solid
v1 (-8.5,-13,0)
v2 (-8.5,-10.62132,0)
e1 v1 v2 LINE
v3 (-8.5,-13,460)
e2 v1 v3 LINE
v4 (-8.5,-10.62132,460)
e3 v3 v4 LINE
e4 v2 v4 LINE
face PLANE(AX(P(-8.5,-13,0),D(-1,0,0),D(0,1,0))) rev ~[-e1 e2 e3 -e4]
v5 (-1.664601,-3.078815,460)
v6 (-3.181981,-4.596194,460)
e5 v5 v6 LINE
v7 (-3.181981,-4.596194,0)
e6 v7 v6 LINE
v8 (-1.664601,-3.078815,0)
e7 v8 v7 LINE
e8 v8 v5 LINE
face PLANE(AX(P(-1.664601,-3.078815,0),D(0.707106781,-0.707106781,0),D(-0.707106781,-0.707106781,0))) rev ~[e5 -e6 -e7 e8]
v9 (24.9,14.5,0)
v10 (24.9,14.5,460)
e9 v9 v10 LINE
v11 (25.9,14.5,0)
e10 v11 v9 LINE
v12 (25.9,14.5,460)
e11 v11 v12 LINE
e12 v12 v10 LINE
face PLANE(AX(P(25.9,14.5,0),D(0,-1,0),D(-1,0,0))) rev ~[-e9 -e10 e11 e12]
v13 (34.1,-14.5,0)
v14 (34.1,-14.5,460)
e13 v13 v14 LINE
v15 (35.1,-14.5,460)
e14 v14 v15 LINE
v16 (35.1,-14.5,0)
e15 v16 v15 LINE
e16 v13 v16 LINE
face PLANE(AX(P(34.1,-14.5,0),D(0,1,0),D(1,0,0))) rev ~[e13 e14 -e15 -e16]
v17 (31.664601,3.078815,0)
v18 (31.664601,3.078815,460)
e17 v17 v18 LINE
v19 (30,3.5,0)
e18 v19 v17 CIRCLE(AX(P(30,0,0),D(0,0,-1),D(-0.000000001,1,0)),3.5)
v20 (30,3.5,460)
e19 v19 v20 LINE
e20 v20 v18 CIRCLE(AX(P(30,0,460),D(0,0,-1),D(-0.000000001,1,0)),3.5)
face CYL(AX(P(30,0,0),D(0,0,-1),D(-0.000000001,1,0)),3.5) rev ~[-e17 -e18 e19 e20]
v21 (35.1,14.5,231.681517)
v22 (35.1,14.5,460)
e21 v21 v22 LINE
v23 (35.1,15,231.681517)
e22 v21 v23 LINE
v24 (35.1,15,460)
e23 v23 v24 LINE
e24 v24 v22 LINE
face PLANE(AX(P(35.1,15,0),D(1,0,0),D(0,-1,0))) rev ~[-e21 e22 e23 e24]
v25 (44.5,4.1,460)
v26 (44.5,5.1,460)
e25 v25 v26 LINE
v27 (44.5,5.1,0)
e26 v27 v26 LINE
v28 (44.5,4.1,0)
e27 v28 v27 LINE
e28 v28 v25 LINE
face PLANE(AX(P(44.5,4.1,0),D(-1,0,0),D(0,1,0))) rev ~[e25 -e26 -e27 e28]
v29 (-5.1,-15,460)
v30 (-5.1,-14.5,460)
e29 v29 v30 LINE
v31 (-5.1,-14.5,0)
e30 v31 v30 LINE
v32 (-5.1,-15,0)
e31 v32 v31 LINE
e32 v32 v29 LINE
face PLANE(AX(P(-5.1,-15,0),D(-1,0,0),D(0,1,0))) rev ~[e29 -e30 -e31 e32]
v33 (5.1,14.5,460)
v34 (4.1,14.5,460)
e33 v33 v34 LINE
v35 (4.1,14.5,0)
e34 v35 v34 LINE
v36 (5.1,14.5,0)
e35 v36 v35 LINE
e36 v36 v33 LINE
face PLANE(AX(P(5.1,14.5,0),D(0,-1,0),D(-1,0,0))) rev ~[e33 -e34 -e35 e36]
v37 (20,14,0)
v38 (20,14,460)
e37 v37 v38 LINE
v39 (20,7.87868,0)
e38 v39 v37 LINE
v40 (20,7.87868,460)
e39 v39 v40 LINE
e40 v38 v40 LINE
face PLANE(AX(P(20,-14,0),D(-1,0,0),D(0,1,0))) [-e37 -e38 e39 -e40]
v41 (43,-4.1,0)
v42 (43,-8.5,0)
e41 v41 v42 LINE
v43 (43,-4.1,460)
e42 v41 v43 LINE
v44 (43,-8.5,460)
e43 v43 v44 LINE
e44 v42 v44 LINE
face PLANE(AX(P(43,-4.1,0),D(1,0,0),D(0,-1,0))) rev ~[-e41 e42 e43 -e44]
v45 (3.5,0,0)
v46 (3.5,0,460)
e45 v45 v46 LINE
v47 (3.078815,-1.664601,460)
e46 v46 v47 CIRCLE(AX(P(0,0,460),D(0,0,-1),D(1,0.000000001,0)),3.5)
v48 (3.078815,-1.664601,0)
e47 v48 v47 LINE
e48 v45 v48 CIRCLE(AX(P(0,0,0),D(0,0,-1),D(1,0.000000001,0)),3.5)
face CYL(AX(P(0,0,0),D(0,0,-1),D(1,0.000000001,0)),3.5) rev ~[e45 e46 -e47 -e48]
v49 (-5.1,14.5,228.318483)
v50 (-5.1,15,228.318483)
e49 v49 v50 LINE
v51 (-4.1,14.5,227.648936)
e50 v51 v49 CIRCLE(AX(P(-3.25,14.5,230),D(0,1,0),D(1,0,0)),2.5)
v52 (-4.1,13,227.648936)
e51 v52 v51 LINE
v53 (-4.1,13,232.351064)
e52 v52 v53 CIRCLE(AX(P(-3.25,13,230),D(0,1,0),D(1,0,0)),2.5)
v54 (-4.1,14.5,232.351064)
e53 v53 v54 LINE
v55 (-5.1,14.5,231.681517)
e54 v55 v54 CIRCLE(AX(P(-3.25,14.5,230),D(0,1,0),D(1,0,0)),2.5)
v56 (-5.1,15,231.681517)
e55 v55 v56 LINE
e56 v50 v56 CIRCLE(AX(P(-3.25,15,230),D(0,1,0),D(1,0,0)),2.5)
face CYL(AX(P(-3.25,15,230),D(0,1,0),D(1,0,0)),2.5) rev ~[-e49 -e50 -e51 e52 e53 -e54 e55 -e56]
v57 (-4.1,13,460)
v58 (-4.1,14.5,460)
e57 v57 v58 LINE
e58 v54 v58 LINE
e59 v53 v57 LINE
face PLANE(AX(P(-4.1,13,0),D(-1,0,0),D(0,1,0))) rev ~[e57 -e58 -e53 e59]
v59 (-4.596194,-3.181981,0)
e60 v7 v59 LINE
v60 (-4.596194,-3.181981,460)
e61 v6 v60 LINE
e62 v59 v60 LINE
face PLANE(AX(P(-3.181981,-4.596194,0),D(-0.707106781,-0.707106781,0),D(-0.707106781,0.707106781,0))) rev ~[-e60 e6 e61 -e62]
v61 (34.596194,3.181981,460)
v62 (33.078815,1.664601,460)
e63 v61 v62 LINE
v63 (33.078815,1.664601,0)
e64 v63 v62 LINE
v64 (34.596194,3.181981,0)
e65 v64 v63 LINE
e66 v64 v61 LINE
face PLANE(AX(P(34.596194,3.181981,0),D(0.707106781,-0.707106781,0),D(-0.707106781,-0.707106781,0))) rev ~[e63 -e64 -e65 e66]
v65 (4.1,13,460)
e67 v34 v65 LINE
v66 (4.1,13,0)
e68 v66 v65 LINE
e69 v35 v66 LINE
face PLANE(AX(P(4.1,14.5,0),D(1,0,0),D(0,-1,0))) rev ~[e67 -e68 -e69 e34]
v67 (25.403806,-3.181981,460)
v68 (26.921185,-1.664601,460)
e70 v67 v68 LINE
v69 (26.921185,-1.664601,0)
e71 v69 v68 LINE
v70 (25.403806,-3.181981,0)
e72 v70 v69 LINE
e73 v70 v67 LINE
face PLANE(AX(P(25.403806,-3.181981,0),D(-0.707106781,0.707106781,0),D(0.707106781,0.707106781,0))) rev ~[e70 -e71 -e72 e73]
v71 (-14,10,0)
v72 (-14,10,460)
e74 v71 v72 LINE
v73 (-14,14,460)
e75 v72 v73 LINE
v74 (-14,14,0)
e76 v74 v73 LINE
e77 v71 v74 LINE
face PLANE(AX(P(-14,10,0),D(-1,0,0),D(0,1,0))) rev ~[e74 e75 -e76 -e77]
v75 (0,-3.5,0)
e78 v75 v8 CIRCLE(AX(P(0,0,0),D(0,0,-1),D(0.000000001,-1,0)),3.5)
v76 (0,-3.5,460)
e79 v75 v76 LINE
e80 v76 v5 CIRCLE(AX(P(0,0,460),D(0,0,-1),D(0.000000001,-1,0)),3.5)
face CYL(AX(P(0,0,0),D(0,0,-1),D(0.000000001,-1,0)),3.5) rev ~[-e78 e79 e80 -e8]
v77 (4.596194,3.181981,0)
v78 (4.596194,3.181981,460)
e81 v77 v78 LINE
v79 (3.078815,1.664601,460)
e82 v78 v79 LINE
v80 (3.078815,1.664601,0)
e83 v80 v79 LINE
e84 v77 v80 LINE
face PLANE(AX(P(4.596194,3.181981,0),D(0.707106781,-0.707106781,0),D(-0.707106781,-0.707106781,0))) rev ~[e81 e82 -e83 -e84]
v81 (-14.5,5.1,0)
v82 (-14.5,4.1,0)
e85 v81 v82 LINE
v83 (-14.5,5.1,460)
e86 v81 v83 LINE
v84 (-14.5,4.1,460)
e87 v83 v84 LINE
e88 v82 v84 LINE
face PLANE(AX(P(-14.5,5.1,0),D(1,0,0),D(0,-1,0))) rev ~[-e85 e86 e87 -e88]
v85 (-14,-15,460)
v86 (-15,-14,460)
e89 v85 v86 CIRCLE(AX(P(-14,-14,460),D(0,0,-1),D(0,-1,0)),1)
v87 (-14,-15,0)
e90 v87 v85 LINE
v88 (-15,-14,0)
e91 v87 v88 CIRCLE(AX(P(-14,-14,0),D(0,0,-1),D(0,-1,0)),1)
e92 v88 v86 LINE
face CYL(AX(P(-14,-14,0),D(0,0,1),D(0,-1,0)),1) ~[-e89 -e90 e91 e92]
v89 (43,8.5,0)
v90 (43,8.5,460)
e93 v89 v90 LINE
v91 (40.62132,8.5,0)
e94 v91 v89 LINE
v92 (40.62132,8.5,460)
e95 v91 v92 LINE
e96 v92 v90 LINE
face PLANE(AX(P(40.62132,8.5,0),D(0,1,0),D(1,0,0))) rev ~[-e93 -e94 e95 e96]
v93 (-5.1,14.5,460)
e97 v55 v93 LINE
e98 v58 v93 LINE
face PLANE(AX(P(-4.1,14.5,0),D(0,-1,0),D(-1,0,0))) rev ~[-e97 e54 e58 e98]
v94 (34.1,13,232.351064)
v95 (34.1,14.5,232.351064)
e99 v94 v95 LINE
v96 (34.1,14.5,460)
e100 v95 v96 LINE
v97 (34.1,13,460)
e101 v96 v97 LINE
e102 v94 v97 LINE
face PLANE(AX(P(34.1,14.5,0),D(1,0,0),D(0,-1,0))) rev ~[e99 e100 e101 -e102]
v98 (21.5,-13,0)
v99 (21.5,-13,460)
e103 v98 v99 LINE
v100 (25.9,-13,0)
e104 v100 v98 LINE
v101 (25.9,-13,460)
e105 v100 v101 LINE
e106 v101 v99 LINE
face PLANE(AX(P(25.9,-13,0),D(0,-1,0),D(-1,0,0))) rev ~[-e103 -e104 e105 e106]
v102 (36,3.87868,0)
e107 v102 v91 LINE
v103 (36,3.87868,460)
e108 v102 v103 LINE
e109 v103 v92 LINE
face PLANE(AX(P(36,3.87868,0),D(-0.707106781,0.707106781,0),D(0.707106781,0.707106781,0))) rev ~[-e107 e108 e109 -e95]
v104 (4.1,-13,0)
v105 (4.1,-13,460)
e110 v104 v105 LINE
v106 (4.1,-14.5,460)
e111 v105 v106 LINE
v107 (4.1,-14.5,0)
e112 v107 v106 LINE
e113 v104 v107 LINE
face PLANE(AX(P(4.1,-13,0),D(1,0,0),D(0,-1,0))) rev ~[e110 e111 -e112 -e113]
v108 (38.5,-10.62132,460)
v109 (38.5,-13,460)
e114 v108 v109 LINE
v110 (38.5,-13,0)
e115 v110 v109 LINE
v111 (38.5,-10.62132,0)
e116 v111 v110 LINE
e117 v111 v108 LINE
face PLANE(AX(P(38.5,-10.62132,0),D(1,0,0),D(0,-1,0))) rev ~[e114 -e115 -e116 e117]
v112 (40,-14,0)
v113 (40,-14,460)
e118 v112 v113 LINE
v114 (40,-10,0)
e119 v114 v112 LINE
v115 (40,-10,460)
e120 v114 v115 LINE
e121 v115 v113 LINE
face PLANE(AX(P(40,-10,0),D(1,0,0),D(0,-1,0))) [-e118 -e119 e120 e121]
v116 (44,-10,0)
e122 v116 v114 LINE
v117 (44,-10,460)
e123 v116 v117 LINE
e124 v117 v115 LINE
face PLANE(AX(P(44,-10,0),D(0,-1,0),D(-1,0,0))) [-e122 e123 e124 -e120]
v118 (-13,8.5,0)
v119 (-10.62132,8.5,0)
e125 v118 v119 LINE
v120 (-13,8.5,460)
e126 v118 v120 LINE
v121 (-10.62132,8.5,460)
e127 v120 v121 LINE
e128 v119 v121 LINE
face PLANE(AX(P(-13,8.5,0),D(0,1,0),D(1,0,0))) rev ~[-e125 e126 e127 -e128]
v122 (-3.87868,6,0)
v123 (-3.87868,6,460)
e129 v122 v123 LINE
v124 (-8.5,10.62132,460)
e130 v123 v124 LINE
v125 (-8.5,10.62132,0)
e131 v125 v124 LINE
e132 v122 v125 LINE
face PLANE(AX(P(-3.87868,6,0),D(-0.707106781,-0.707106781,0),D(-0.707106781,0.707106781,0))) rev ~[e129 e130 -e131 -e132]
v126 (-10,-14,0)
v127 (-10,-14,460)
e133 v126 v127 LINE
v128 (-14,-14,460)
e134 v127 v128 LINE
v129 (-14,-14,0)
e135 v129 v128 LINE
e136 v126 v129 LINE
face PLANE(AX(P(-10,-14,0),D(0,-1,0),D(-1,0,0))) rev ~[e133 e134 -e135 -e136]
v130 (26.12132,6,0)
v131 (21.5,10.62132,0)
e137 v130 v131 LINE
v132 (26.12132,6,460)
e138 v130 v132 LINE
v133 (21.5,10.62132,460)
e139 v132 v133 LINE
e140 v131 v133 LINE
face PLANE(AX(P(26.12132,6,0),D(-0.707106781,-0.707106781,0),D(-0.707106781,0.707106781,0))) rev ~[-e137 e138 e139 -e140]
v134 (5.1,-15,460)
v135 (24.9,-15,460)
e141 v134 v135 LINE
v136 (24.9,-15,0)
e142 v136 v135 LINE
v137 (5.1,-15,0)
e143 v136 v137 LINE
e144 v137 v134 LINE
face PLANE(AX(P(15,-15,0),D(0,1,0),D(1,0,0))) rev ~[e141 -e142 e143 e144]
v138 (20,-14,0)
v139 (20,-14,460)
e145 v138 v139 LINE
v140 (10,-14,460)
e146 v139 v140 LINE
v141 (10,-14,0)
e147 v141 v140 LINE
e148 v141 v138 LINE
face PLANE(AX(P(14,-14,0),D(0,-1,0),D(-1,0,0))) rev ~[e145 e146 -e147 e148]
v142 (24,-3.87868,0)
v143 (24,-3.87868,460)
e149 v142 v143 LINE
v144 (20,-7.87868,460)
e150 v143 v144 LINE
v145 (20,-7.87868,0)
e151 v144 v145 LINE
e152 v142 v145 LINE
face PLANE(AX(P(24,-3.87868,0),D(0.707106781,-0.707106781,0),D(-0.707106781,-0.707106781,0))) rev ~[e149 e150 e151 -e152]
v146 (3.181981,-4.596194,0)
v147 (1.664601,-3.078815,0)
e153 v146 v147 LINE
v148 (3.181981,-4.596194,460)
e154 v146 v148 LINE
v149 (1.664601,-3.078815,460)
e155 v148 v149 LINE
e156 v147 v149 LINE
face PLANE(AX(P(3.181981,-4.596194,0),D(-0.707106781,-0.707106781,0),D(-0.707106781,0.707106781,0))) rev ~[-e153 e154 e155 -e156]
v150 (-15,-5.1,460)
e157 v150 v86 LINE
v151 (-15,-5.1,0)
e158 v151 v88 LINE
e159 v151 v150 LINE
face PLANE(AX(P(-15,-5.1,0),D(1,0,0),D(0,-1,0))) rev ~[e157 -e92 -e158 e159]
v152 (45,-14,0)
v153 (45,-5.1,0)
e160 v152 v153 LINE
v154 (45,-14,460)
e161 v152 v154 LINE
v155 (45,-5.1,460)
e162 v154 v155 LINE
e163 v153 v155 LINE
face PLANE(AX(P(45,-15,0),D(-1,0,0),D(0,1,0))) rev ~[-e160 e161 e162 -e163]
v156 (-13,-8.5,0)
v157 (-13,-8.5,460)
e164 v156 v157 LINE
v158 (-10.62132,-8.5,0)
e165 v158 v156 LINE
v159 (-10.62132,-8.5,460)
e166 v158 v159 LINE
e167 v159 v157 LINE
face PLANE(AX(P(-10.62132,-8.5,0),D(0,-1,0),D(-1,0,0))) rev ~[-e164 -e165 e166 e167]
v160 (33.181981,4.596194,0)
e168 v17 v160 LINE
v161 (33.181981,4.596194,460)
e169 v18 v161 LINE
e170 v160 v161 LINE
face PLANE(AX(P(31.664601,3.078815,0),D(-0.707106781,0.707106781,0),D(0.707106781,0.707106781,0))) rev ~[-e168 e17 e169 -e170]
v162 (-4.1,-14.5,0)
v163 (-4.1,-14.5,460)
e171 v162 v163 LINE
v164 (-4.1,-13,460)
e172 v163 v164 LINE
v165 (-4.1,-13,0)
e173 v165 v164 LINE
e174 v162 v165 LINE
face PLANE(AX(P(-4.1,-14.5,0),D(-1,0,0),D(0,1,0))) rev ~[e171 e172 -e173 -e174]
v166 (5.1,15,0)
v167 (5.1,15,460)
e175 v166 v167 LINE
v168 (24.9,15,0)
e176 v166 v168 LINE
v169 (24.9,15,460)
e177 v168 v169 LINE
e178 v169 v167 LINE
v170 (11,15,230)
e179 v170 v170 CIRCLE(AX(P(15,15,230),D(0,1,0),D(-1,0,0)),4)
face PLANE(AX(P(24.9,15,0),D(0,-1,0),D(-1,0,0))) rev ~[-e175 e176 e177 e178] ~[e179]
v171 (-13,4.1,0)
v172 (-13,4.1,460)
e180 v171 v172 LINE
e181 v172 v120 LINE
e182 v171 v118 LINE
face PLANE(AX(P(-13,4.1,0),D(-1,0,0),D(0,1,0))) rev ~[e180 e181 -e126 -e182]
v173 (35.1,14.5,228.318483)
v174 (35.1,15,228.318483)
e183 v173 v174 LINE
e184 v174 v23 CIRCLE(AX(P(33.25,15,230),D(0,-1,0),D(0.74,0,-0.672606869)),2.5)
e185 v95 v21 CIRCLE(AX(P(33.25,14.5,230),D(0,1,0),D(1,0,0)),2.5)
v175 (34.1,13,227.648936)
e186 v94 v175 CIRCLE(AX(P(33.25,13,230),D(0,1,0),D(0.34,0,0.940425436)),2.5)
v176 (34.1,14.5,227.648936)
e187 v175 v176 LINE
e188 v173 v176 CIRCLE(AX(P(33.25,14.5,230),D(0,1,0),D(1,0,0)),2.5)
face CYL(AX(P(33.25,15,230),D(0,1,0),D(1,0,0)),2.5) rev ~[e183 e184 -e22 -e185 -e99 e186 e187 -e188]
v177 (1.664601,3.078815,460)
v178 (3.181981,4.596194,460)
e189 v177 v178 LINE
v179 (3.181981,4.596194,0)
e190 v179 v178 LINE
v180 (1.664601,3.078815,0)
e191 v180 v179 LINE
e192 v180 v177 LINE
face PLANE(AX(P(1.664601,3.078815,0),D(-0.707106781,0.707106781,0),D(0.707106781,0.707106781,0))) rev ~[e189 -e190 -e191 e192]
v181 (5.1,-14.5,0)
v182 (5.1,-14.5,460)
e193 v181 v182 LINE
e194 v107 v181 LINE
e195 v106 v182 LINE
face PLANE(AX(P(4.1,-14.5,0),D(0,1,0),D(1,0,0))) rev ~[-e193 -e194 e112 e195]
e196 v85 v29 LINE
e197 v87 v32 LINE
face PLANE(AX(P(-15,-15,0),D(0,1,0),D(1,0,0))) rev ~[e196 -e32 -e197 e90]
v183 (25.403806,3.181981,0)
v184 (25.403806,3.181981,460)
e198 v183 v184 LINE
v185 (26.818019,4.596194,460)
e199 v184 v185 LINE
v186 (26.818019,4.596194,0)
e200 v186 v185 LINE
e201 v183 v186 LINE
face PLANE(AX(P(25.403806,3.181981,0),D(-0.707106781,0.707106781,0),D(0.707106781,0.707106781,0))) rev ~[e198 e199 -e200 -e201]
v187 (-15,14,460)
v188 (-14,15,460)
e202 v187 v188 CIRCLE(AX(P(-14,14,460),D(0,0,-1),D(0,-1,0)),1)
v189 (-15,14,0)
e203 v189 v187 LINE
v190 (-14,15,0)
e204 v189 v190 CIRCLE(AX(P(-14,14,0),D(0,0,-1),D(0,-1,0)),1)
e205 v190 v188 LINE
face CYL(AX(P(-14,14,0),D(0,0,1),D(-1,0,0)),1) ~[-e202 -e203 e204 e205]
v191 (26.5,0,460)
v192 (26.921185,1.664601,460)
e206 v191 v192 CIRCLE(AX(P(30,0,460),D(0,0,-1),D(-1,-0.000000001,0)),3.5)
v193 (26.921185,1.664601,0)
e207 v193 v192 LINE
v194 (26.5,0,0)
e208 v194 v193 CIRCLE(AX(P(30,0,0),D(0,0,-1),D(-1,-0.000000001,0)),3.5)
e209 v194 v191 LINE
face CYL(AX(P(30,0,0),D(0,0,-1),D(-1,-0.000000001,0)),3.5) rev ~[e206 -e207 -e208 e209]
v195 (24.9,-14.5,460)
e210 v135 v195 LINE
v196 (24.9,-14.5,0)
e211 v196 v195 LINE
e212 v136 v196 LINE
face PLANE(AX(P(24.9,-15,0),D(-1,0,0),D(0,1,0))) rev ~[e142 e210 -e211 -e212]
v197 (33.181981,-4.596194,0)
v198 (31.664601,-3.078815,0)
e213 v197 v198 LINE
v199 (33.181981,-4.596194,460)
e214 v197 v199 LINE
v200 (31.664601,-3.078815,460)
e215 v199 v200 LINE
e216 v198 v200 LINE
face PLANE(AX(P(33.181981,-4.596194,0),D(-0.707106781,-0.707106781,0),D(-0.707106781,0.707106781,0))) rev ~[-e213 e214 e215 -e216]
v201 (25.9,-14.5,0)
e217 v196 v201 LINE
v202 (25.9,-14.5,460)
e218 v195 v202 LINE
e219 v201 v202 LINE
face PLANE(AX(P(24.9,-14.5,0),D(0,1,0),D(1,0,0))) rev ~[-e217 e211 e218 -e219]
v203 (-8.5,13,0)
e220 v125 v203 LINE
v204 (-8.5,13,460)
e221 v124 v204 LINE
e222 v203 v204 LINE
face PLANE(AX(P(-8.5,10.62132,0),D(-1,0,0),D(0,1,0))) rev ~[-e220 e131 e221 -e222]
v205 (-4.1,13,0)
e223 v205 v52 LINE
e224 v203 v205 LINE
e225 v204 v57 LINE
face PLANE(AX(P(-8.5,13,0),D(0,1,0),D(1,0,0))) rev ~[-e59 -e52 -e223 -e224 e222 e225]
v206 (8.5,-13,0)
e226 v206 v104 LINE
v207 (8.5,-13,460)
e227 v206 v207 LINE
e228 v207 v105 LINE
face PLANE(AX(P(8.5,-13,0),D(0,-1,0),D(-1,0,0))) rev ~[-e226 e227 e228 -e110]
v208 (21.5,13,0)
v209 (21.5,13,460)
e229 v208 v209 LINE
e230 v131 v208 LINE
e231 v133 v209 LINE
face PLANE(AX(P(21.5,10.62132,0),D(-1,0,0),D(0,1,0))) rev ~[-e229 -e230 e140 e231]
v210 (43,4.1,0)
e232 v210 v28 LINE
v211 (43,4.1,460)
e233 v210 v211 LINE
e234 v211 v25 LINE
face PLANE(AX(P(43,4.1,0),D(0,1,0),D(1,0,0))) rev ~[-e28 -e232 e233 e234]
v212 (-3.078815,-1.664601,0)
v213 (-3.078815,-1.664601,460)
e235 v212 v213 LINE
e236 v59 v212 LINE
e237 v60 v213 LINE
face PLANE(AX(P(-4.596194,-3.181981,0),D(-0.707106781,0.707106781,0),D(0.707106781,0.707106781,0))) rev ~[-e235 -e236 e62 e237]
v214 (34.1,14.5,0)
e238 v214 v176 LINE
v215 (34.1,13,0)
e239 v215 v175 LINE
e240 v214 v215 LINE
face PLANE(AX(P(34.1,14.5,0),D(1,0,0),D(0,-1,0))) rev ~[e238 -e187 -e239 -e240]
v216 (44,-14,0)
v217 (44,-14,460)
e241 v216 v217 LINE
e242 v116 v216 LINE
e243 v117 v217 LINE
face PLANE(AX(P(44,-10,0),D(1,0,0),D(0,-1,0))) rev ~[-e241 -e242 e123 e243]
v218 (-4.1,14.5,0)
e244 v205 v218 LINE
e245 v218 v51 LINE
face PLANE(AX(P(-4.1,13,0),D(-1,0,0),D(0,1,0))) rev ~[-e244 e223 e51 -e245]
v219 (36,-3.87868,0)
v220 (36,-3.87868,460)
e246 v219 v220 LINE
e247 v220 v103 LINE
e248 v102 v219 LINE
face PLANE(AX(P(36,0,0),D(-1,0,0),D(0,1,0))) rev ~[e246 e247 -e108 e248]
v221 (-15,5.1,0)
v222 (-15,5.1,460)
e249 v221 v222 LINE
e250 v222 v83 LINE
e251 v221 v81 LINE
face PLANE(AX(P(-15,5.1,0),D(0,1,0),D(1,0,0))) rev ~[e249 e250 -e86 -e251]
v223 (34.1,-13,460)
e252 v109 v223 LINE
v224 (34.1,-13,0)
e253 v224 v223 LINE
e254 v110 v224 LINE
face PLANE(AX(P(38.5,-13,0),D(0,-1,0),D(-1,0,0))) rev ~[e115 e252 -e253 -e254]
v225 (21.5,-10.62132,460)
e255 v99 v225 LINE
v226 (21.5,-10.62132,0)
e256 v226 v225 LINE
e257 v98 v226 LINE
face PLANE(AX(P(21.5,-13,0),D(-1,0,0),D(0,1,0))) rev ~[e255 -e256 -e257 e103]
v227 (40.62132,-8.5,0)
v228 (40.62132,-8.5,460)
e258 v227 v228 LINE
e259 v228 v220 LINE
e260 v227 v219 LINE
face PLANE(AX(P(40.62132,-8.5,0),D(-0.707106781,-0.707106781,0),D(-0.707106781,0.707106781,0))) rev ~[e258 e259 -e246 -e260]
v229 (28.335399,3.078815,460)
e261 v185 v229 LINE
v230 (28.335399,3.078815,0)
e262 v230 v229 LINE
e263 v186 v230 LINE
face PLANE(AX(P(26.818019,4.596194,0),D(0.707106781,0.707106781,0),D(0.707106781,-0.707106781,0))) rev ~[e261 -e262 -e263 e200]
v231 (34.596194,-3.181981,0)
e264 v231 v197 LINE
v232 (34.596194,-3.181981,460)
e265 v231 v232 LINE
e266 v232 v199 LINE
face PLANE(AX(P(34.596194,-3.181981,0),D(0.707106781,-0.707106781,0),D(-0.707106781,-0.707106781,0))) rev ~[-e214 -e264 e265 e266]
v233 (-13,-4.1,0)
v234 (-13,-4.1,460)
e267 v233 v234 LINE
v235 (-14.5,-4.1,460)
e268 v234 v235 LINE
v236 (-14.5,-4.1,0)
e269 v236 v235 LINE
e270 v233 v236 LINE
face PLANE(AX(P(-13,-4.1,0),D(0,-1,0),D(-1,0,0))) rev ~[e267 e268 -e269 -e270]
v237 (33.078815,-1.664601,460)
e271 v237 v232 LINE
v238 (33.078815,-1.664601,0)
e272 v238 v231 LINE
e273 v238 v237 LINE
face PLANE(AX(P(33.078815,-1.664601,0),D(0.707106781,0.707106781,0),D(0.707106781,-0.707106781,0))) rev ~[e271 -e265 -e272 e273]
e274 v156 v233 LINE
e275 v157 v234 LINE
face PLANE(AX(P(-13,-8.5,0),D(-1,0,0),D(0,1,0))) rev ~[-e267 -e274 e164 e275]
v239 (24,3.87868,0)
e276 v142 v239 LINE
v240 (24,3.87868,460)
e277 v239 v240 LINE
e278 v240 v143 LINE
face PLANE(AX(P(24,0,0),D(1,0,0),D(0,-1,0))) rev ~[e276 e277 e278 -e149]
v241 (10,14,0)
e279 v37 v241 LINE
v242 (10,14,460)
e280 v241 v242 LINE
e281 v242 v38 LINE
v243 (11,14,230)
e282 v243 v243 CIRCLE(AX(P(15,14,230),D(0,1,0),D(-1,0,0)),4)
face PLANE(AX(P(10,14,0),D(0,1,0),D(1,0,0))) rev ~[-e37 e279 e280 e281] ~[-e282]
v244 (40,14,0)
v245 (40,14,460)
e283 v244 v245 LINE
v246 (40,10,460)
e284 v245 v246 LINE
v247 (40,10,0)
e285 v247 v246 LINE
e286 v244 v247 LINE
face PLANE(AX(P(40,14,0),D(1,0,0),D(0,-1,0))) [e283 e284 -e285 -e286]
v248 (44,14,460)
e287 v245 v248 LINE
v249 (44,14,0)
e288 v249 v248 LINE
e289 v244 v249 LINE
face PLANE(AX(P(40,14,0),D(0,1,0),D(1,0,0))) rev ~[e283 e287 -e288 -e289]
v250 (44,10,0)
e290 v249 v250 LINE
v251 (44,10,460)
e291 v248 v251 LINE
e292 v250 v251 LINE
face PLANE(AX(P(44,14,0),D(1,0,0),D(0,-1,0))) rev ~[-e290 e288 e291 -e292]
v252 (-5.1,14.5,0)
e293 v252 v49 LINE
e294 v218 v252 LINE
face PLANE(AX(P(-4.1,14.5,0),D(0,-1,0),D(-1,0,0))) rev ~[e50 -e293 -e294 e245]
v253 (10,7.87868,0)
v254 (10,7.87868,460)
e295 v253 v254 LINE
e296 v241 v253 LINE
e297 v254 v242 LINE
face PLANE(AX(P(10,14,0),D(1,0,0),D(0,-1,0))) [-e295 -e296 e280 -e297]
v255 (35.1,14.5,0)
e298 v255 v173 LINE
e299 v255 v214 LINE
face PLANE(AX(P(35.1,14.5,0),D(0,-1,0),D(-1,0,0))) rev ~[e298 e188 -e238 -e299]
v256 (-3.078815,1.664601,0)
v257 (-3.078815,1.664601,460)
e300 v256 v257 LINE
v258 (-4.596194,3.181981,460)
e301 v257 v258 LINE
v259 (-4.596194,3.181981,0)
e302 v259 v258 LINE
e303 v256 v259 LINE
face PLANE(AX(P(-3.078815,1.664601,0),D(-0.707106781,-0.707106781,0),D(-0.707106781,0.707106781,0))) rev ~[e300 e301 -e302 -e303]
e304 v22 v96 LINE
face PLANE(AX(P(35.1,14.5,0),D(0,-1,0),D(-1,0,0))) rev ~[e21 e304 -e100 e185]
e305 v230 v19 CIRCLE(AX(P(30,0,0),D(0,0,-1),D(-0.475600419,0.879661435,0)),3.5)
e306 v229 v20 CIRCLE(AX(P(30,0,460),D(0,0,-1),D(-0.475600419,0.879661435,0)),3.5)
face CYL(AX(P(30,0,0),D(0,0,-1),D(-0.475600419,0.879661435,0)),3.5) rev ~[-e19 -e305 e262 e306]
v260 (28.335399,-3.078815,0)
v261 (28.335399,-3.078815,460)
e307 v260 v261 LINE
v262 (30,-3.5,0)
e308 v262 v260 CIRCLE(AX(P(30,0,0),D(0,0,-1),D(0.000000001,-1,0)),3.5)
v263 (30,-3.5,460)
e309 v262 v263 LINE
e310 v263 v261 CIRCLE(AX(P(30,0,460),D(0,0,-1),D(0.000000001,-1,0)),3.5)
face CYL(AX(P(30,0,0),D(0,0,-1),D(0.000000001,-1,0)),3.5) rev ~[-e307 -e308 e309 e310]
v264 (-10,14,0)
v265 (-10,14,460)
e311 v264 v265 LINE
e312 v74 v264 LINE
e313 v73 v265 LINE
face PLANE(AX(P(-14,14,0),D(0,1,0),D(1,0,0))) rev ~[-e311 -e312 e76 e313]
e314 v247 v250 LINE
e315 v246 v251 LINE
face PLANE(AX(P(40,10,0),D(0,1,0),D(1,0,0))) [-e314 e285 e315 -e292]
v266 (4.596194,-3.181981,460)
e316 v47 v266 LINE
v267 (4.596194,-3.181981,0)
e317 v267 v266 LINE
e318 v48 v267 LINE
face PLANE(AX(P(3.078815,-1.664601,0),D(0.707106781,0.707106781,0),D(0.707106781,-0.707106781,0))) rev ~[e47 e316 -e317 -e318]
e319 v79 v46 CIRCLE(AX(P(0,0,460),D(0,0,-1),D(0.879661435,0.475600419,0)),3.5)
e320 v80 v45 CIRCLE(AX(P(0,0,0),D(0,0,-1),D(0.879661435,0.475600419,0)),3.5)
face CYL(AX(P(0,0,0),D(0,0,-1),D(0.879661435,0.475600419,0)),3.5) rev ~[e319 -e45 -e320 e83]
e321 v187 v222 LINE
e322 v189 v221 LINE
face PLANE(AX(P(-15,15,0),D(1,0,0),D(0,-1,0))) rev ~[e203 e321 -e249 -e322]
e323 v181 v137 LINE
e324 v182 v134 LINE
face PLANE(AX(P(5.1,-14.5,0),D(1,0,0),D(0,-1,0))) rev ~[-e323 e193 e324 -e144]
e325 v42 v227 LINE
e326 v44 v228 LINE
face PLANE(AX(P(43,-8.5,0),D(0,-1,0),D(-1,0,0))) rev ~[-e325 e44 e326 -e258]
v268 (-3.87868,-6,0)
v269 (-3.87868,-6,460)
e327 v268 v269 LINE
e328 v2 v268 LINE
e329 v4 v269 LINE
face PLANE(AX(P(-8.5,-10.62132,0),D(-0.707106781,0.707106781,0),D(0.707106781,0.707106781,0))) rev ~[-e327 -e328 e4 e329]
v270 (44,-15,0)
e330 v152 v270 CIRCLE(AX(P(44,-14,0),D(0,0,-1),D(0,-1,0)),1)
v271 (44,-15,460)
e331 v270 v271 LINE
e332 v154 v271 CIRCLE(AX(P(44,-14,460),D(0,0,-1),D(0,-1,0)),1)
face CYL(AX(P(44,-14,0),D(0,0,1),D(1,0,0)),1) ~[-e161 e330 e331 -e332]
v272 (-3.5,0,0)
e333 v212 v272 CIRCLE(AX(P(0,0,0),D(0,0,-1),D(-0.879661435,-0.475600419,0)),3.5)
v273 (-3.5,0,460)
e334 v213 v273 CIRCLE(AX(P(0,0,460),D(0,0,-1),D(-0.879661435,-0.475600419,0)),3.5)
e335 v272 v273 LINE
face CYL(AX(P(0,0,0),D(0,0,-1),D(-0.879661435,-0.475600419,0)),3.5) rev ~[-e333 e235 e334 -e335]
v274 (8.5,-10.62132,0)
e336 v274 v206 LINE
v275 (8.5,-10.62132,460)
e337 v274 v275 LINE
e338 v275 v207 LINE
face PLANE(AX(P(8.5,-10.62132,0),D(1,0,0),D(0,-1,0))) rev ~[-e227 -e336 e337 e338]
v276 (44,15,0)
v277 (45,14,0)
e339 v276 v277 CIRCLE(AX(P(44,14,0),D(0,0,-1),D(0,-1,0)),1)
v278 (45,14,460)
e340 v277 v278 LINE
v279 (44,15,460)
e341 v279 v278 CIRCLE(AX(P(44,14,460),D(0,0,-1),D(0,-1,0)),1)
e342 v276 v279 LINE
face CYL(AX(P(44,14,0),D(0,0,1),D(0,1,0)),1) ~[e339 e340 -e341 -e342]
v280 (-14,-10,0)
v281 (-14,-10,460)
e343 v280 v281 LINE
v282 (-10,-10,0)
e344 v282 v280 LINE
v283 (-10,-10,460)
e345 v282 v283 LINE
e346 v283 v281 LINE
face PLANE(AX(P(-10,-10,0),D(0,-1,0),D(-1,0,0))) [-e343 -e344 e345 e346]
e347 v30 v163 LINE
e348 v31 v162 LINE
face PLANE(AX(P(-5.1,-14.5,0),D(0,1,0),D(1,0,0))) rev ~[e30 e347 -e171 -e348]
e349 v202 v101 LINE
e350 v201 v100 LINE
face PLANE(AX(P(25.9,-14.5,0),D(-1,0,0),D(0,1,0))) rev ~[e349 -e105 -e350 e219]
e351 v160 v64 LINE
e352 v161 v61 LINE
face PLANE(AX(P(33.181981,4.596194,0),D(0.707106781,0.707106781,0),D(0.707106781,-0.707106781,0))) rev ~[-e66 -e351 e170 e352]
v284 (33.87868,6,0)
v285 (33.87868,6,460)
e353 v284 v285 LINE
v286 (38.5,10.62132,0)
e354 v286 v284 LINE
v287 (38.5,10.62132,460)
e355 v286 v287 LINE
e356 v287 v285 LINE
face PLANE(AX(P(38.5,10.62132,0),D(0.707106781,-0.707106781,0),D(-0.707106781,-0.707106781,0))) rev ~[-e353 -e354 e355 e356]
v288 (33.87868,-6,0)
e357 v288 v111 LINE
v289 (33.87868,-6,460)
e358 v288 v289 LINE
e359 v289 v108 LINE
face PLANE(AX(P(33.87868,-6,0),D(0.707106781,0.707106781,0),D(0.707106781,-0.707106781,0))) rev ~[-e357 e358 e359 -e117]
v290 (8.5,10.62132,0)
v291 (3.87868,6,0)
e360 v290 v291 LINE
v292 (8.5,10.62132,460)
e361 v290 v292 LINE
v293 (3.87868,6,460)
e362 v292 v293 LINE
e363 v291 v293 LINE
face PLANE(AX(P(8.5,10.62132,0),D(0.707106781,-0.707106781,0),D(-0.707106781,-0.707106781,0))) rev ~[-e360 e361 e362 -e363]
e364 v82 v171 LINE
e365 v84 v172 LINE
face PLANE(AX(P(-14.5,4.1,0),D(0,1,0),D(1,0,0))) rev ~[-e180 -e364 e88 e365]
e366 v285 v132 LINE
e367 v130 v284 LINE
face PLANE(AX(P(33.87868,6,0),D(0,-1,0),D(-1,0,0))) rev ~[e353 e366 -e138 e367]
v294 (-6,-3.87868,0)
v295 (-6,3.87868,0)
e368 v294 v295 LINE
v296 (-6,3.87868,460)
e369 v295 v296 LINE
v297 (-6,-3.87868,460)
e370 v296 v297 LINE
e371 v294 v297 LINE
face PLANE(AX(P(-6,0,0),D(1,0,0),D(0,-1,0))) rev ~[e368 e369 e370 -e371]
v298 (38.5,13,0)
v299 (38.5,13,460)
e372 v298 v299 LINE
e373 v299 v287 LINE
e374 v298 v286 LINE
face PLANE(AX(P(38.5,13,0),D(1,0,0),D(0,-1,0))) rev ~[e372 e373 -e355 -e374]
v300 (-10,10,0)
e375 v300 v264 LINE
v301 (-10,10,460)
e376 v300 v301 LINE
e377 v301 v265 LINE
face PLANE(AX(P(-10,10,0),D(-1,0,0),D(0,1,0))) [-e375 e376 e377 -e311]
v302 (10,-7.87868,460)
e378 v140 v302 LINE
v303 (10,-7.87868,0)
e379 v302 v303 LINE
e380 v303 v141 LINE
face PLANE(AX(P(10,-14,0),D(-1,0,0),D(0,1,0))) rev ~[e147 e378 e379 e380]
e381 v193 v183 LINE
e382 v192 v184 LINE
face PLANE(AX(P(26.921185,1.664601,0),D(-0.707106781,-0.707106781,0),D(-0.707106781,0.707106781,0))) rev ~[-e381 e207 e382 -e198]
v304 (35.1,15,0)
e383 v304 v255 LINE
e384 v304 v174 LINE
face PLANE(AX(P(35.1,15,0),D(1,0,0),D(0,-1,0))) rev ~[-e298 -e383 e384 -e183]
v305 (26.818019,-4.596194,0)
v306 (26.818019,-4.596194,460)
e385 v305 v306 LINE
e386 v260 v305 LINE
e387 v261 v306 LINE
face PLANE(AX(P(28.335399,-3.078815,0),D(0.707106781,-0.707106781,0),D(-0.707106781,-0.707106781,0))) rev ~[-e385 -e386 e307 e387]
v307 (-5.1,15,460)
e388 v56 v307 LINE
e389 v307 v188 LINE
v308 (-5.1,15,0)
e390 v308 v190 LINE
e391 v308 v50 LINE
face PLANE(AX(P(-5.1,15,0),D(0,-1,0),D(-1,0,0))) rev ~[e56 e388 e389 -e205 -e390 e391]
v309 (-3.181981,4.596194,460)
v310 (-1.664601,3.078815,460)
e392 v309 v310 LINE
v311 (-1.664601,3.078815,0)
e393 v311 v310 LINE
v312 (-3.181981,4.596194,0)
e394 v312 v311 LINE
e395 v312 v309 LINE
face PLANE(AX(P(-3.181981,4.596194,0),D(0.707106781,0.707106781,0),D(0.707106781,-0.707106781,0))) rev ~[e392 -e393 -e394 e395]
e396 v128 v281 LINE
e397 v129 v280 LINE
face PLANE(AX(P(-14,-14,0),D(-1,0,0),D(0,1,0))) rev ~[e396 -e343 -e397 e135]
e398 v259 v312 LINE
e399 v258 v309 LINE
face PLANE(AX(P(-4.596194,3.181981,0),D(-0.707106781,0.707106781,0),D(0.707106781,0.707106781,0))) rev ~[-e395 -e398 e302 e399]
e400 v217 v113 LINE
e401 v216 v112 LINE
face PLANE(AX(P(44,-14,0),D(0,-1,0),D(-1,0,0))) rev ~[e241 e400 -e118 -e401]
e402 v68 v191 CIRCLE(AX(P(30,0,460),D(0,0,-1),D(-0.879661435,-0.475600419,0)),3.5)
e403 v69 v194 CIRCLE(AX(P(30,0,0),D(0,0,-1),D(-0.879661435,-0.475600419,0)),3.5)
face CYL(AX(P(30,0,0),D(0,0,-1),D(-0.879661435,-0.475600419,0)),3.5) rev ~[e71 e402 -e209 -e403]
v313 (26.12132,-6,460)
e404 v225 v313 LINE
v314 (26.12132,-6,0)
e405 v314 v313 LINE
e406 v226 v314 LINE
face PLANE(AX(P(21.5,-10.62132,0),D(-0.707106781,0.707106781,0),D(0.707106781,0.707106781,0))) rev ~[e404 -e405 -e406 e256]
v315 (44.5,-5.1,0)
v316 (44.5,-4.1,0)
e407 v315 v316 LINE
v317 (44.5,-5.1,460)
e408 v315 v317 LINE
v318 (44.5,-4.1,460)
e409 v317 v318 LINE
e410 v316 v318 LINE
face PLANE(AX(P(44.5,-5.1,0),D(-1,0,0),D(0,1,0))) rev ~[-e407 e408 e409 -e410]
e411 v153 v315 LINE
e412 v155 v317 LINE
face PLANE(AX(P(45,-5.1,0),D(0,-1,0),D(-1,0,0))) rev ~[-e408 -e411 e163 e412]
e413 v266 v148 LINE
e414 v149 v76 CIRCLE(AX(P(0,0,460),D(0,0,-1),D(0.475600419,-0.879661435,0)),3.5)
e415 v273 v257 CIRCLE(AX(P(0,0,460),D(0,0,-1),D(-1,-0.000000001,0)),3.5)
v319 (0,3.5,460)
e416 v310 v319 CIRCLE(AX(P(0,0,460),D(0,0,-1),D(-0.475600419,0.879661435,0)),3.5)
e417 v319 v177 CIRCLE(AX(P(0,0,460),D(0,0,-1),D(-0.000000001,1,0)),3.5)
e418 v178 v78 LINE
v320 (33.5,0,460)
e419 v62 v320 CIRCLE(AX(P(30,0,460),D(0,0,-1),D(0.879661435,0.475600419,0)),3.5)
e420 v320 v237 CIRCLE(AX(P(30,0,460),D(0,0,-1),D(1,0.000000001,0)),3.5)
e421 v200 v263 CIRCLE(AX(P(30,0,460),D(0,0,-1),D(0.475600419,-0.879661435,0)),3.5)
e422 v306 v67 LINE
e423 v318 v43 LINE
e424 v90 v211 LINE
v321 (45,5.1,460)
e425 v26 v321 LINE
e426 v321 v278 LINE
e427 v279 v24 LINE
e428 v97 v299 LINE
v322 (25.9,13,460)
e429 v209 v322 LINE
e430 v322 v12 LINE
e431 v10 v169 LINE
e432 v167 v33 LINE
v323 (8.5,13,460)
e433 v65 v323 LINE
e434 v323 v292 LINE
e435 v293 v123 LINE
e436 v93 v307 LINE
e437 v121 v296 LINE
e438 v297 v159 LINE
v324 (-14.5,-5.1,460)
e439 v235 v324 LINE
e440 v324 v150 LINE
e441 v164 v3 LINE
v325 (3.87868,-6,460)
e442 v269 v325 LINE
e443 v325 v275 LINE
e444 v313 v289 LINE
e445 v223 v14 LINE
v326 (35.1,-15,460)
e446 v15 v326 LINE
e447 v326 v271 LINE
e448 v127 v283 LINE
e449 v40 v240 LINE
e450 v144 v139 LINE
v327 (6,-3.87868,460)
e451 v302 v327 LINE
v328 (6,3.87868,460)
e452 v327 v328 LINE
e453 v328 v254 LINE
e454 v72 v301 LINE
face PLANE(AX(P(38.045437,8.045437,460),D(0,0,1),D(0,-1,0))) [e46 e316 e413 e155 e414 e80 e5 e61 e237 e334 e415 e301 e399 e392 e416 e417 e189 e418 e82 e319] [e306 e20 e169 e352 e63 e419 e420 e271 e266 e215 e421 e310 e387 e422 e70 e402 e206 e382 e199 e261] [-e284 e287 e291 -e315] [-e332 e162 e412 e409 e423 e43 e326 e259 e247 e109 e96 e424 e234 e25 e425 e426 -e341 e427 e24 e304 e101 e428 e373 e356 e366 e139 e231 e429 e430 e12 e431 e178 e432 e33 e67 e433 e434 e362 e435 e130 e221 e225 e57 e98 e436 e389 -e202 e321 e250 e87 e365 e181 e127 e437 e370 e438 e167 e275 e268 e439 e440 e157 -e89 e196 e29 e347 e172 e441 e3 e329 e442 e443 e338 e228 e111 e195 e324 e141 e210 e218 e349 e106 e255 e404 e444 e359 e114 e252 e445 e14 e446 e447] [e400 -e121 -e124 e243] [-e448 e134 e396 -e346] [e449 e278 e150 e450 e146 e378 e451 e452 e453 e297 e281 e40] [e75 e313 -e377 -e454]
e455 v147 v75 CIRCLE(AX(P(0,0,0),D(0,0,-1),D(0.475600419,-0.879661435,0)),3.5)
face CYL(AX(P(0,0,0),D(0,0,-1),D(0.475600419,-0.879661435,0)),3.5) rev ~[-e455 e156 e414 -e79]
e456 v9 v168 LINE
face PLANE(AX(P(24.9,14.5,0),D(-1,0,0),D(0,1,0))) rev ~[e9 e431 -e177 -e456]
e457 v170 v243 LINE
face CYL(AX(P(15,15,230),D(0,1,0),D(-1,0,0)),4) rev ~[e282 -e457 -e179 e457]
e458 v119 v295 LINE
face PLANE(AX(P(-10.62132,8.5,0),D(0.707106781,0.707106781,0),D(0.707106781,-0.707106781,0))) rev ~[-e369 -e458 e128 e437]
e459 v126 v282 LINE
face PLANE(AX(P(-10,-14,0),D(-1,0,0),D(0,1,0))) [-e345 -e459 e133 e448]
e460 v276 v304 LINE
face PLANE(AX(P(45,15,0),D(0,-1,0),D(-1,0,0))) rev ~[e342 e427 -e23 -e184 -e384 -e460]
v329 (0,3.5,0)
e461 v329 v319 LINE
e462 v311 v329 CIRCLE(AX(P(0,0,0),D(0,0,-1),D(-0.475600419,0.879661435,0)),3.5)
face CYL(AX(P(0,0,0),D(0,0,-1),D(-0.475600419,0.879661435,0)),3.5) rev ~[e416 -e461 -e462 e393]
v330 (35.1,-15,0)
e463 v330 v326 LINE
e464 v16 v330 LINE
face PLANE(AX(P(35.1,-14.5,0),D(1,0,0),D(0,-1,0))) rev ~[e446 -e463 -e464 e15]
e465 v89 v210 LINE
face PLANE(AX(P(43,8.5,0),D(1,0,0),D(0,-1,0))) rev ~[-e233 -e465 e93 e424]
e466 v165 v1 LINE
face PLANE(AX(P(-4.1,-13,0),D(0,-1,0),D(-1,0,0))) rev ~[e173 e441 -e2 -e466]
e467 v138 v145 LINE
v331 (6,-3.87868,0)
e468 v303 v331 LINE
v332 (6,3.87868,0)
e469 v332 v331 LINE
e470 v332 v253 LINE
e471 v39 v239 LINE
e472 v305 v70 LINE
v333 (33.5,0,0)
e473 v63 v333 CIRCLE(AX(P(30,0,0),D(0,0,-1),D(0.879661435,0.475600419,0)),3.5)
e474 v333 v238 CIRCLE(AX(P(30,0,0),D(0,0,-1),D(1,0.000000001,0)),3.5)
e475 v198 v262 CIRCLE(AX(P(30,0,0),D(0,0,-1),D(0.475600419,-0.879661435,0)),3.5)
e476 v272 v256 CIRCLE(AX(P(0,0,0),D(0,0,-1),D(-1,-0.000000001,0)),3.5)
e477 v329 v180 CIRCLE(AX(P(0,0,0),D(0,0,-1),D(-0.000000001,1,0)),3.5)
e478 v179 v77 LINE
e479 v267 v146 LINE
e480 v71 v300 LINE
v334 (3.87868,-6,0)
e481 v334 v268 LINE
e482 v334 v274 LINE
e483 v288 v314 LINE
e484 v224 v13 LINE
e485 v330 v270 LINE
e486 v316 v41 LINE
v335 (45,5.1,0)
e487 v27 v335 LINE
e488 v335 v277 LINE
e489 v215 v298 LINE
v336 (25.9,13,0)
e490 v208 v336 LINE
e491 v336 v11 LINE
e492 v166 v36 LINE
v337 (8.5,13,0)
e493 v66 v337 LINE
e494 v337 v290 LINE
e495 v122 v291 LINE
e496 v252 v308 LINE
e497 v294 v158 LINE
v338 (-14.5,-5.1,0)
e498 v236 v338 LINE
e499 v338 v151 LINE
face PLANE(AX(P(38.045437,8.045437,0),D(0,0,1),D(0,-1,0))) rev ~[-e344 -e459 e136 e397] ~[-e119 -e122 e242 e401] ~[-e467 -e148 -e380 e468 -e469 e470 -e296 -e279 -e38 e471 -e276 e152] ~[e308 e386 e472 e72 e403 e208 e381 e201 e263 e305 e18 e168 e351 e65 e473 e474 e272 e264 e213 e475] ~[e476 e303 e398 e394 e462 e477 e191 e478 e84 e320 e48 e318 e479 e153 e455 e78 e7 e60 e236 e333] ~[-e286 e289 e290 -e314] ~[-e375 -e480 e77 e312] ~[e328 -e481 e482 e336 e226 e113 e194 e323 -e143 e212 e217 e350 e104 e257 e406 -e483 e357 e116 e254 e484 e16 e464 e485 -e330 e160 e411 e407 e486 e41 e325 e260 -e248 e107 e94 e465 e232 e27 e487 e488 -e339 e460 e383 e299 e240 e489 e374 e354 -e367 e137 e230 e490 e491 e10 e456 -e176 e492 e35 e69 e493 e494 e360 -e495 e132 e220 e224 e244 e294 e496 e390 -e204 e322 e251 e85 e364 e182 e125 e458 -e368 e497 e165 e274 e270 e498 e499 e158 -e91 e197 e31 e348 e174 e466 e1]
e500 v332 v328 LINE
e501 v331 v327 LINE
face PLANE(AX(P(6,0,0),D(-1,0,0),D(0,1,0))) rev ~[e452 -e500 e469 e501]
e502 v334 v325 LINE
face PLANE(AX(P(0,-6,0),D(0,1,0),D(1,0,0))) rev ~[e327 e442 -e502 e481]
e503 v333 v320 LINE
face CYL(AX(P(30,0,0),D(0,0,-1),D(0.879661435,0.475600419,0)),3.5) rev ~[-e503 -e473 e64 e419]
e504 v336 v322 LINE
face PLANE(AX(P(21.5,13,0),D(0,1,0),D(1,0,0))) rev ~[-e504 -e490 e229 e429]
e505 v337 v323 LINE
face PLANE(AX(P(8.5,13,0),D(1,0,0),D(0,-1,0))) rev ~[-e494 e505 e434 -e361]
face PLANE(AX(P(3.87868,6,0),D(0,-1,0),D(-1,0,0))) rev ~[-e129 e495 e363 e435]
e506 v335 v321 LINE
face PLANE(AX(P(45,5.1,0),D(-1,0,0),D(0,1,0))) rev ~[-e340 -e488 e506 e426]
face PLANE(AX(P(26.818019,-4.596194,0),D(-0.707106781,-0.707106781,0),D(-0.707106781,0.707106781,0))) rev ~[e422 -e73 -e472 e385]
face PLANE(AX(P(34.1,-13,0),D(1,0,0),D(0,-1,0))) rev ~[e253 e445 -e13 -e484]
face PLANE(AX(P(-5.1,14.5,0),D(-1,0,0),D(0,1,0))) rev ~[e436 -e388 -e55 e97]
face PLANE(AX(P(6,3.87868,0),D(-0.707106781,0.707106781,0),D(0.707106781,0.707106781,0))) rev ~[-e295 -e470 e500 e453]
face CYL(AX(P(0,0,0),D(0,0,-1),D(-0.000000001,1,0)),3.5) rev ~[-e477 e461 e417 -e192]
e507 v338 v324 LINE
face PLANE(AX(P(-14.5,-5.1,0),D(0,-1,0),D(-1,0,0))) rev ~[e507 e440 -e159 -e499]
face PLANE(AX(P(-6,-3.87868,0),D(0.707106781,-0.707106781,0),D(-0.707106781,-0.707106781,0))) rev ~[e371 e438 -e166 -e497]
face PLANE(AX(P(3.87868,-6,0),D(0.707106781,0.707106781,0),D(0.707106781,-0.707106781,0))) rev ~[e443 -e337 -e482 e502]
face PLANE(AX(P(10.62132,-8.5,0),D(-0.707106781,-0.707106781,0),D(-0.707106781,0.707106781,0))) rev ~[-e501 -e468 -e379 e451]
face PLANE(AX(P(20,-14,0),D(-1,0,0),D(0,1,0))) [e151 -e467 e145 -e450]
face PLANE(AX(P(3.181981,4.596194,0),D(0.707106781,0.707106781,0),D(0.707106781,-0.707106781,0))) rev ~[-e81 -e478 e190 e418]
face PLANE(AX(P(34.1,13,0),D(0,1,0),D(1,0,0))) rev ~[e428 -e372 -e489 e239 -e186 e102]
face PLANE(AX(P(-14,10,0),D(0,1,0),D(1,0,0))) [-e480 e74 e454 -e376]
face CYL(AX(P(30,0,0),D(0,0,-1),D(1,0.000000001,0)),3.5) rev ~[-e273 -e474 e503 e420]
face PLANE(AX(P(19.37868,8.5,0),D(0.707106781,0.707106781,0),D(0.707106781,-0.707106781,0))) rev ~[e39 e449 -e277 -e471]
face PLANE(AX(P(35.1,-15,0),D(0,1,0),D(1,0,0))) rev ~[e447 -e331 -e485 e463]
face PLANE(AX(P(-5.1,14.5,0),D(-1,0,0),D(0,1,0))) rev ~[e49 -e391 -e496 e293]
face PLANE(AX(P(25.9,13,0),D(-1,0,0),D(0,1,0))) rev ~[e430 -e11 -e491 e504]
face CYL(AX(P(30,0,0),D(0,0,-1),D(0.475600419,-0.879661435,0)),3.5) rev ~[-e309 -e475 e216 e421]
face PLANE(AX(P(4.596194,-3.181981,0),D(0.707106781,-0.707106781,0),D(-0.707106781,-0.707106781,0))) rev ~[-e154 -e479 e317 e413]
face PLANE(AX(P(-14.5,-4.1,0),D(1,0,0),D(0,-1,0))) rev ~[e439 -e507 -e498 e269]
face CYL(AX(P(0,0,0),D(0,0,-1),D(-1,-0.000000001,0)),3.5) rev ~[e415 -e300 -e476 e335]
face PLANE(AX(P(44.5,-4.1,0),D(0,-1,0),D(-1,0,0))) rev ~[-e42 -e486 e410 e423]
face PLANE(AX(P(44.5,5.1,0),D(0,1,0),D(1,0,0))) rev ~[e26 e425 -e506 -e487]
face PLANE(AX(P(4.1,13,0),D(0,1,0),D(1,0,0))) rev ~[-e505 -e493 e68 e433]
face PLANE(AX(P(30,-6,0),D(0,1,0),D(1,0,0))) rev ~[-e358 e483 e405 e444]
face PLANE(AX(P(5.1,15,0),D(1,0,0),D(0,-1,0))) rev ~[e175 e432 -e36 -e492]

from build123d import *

# Parameters (mm, degrees)
ESBO_O1_W                      = 4
ESBO_O1_H                      = 4
RESSALTO_EXTRUS_O1_DEPTH       = 460
PADR_OCIRCULAR1_COUNT          = 4
PADR_O_LINEAR1_COUNT           = 2
PADR_O_LINEAR1_PITCH           = 30
PADR_O_LINEAR1_COPY_1_SKETCH_W = 4
PADR_O_LINEAR1_COPY_1_SKETCH_H = 4
PADR_O_LINEAR1_COPY_1_DEPTH    = 460
PADR_O_LINEAR1_COPY_2_SKETCH_W = 4
PADR_O_LINEAR1_COPY_2_SKETCH_H = 4
PADR_O_LINEAR1_COPY_2_DEPTH    = 460
PADR_O_LINEAR1_COPY_3_SKETCH_W = 4
PADR_O_LINEAR1_COPY_3_SKETCH_H = 4
PADR_O_LINEAR1_COPY_3_DEPTH    = 460
ESBO_O4_W                      = 10
ESBO_O4_H                      = 28
CORTE_EXTRUS_O1_DEPTH          = 463.439185191
FILETE1_R                      = 1
ESBO_O5_R                      = 4
CORTE_EXTRUS_O2_DEPTH          = 10
SKETCH2_R                      = 2.5
CUT_EXTRUDE1_DEPTH             = 3


with BuildPart() as part:
    # Esboço1 → Ressalto-extrusão1 (new body)
    with BuildSketch(Plane.XY):
        with BuildLine():
            ThreePointArc((-1.664601464, 3.078815026), (-0.858529967, 3.393070335), (0, 3.5))
            Line((0, 3.5), (0, 6))
            Line((0, 6), (-3.878679656, 6))
            Line((-3.878679656, 6), (-8.5, 10.621320344))
            Line((-8.5, 10.621320344), (-8.5, 13))
            Line((-8.5, 13), (-4.1, 13))
            Line((-4.1, 13), (-4.1, 14.5))
            Line((-4.1, 14.5), (-5.1, 14.5))
            Line((-5.1, 14.5), (-5.1, 15))
            Line((-5.1, 15), (-15, 15))
            Line((-15, 15), (-15, 5.1))
            Line((-15, 5.1), (-14.5, 5.1))
            Line((-14.5, 5.1), (-14.5, 4.1))
            Line((-14.5, 4.1), (-13, 4.1))
            Line((-13, 4.1), (-13, 8.5))
            Line((-13, 8.5), (-10.621320344, 8.5))
            Line((-10.621320344, 8.5), (-6, 3.878679656))
            Line((-6, 3.878679656), (-6, 0))
            Line((-6, 0), (-3.5, 0))
            ThreePointArc((-3.5, 0), (-3.393070335, 0.858529967), (-3.078815026, 1.664601464))
            Line((-3.078815026, 1.664601464), (-4.596194078, 3.181980515))
            Line((-4.596194078, 3.181980515), (-3.181980515, 4.596194078))
            Line((-3.181980515, 4.596194078), (-1.664601464, 3.078815026))
        make_face()
        with Locations((-12, 12)):
            Rectangle(ESBO_O1_W, ESBO_O1_H, mode=Mode.SUBTRACT)
    ressalto_extrus_o1 = extrude(amount=RESSALTO_EXTRUS_O1_DEPTH)

    # PadrãoCircular1: Ressalto-extrusão1 ×4 about axis
    padr_ocircular1_axis = Axis((0, 0, 0), (0, 0, 1))
    for i in range(1, PADR_OCIRCULAR1_COUNT):
        add(ressalto_extrus_o1.rotate(padr_ocircular1_axis, i * 360 / PADR_OCIRCULAR1_COUNT))

    # Padrão linear1: Ressalto-extrusão1 ×2
    with Locations(*[(i * PADR_O_LINEAR1_PITCH, 0, 0) for i in range(1, PADR_O_LINEAR1_COUNT)]):
        add(ressalto_extrus_o1)

    # Padrão linear1 copy 1 sketch → Padrão linear1 copy 1 (add)
    with BuildSketch(Plane(origin=(30, 0, 0), x_dir=(0, 1, 0), z_dir=(0, 0, 1))):
        with BuildLine():
            ThreePointArc((-1.664601464, 3.078815026), (-0.858529967, 3.393070335), (0, 3.5))
            Line((0, 3.5), (0, 6))
            Line((0, 6), (-3.878679656, 6))
            Line((-3.878679656, 6), (-8.5, 10.621320344))
            Line((-8.5, 10.621320344), (-8.5, 13))
            Line((-8.5, 13), (-4.1, 13))
            Line((-4.1, 13), (-4.1, 14.5))
            Line((-4.1, 14.5), (-5.1, 14.5))
            Line((-5.1, 14.5), (-5.1, 15))
            Line((-5.1, 15), (-15, 15))
            Line((-15, 15), (-15, 5.1))
            Line((-15, 5.1), (-14.5, 5.1))
            Line((-14.5, 5.1), (-14.5, 4.1))
            Line((-14.5, 4.1), (-13, 4.1))
            Line((-13, 4.1), (-13, 8.5))
            Line((-13, 8.5), (-10.621320344, 8.5))
            Line((-10.621320344, 8.5), (-6, 3.878679656))
            Line((-6, 3.878679656), (-6, 0))
            Line((-6, 0), (-3.5, 0))
            ThreePointArc((-3.5, 0), (-3.393070335, 0.858529967), (-3.078815026, 1.664601464))
            Line((-3.078815026, 1.664601464), (-4.596194078, 3.181980515))
            Line((-4.596194078, 3.181980515), (-3.181980515, 4.596194078))
            Line((-3.181980515, 4.596194078), (-1.664601464, 3.078815026))
        make_face()
        with Locations((-12, 12)):
            Rectangle(PADR_O_LINEAR1_COPY_1_SKETCH_W, PADR_O_LINEAR1_COPY_1_SKETCH_H, mode=Mode.SUBTRACT)
    extrude(amount=PADR_O_LINEAR1_COPY_1_DEPTH)

    # Padrão linear1 copy 2 sketch → Padrão linear1 copy 2 (add)
    with BuildSketch(Plane(origin=(30, 0, 0), x_dir=(-1, 0, 0), z_dir=(0, 0, 1))):
        with BuildLine():
            ThreePointArc((-1.664601464, 3.078815026), (-0.858529967, 3.393070335), (0, 3.5))
            Line((0, 3.5), (0, 6))
            Line((0, 6), (-3.878679656, 6))
            Line((-3.878679656, 6), (-8.5, 10.621320344))
            Line((-8.5, 10.621320344), (-8.5, 13))
            Line((-8.5, 13), (-4.1, 13))
            Line((-4.1, 13), (-4.1, 14.5))
            Line((-4.1, 14.5), (-5.1, 14.5))
            Line((-5.1, 14.5), (-5.1, 15))
            Line((-5.1, 15), (-15, 15))
            Line((-15, 15), (-15, 5.1))
            Line((-15, 5.1), (-14.5, 5.1))
            Line((-14.5, 5.1), (-14.5, 4.1))
            Line((-14.5, 4.1), (-13, 4.1))
            Line((-13, 4.1), (-13, 8.5))
            Line((-13, 8.5), (-10.621320344, 8.5))
            Line((-10.621320344, 8.5), (-6, 3.878679656))
            Line((-6, 3.878679656), (-6, 0))
            Line((-6, 0), (-3.5, 0))
            ThreePointArc((-3.5, 0), (-3.393070335, 0.858529967), (-3.078815026, 1.664601464))
            Line((-3.078815026, 1.664601464), (-4.596194078, 3.181980515))
            Line((-4.596194078, 3.181980515), (-3.181980515, 4.596194078))
            Line((-3.181980515, 4.596194078), (-1.664601464, 3.078815026))
        make_face()
        with Locations((-12, 12)):
            Rectangle(PADR_O_LINEAR1_COPY_2_SKETCH_W, PADR_O_LINEAR1_COPY_2_SKETCH_H, mode=Mode.SUBTRACT)
    extrude(amount=PADR_O_LINEAR1_COPY_2_DEPTH)

    # Padrão linear1 copy 3 sketch → Padrão linear1 copy 3 (add)
    with BuildSketch(Plane(origin=(30, 0, 0), x_dir=(0, -1, 0), z_dir=(0, 0, 1))):
        with BuildLine():
            ThreePointArc((-1.664601464, 3.078815026), (-0.858529967, 3.393070335), (0, 3.5))
            Line((0, 3.5), (0, 6))
            Line((0, 6), (-3.878679656, 6))
            Line((-3.878679656, 6), (-8.5, 10.621320344))
            Line((-8.5, 10.621320344), (-8.5, 13))
            Line((-8.5, 13), (-4.1, 13))
            Line((-4.1, 13), (-4.1, 14.5))
            Line((-4.1, 14.5), (-5.1, 14.5))
            Line((-5.1, 14.5), (-5.1, 15))
            Line((-5.1, 15), (-15, 15))
            Line((-15, 15), (-15, 5.1))
            Line((-15, 5.1), (-14.5, 5.1))
            Line((-14.5, 5.1), (-14.5, 4.1))
            Line((-14.5, 4.1), (-13, 4.1))
            Line((-13, 4.1), (-13, 8.5))
            Line((-13, 8.5), (-10.621320344, 8.5))
            Line((-10.621320344, 8.5), (-6, 3.878679656))
            Line((-6, 3.878679656), (-6, 0))
            Line((-6, 0), (-3.5, 0))
            ThreePointArc((-3.5, 0), (-3.393070335, 0.858529967), (-3.078815026, 1.664601464))
            Line((-3.078815026, 1.664601464), (-4.596194078, 3.181980515))
            Line((-4.596194078, 3.181980515), (-3.181980515, 4.596194078))
            Line((-3.181980515, 4.596194078), (-1.664601464, 3.078815026))
        make_face()
        with Locations((-12, 12)):
            Rectangle(PADR_O_LINEAR1_COPY_3_SKETCH_W, PADR_O_LINEAR1_COPY_3_SKETCH_H, mode=Mode.SUBTRACT)
    extrude(amount=PADR_O_LINEAR1_COPY_3_DEPTH)

    # Esboço4 → Corte-extrusão1 (cut, through all)
    with BuildSketch(Plane(origin=(0, 0, 0), x_dir=(-1, 0, 0), z_dir=(0, 0, -1))):
        with Locations((-15, 0)):
            Rectangle(ESBO_O4_W, ESBO_O4_H)
    extrude(amount=-CORTE_EXTRUS_O1_DEPTH, mode=Mode.SUBTRACT)

    # Filete1
    filete1_edges = [part.edges().sort_by_distance(p)[0] for p in [
        (45, -15, 230),
        (45, 15, 230),
        (-15, 15, 230),
        (-15, -15, 230),
    ]]
    fillet(filete1_edges, radius=FILETE1_R)

    # Esboço5 → Corte-extrusão2 (cut)
    with BuildSketch(Plane(origin=(0, 15, 0), x_dir=(1, 0, 0), z_dir=(0, 1, 0))):
        with Locations(Location((15, -230, 0), (0, 0, 180))):
            Circle(ESBO_O5_R)
    extrude(amount=-CORTE_EXTRUS_O2_DEPTH, mode=Mode.SUBTRACT)

    # Sketch2 → Cut-Extrude1 (cut)
    with BuildSketch(Plane(origin=(0, 15, 0), x_dir=(1, 0, 0), z_dir=(0, 1, 0))):
        with Locations((33.25, -230)):
            Circle(SKETCH2_R)
        with Locations((-3.25, -230)):
            Circle(SKETCH2_R)
    extrude(amount=-CUT_EXTRUDE1_DEPTH, mode=Mode.SUBTRACT)


solid = part.part
